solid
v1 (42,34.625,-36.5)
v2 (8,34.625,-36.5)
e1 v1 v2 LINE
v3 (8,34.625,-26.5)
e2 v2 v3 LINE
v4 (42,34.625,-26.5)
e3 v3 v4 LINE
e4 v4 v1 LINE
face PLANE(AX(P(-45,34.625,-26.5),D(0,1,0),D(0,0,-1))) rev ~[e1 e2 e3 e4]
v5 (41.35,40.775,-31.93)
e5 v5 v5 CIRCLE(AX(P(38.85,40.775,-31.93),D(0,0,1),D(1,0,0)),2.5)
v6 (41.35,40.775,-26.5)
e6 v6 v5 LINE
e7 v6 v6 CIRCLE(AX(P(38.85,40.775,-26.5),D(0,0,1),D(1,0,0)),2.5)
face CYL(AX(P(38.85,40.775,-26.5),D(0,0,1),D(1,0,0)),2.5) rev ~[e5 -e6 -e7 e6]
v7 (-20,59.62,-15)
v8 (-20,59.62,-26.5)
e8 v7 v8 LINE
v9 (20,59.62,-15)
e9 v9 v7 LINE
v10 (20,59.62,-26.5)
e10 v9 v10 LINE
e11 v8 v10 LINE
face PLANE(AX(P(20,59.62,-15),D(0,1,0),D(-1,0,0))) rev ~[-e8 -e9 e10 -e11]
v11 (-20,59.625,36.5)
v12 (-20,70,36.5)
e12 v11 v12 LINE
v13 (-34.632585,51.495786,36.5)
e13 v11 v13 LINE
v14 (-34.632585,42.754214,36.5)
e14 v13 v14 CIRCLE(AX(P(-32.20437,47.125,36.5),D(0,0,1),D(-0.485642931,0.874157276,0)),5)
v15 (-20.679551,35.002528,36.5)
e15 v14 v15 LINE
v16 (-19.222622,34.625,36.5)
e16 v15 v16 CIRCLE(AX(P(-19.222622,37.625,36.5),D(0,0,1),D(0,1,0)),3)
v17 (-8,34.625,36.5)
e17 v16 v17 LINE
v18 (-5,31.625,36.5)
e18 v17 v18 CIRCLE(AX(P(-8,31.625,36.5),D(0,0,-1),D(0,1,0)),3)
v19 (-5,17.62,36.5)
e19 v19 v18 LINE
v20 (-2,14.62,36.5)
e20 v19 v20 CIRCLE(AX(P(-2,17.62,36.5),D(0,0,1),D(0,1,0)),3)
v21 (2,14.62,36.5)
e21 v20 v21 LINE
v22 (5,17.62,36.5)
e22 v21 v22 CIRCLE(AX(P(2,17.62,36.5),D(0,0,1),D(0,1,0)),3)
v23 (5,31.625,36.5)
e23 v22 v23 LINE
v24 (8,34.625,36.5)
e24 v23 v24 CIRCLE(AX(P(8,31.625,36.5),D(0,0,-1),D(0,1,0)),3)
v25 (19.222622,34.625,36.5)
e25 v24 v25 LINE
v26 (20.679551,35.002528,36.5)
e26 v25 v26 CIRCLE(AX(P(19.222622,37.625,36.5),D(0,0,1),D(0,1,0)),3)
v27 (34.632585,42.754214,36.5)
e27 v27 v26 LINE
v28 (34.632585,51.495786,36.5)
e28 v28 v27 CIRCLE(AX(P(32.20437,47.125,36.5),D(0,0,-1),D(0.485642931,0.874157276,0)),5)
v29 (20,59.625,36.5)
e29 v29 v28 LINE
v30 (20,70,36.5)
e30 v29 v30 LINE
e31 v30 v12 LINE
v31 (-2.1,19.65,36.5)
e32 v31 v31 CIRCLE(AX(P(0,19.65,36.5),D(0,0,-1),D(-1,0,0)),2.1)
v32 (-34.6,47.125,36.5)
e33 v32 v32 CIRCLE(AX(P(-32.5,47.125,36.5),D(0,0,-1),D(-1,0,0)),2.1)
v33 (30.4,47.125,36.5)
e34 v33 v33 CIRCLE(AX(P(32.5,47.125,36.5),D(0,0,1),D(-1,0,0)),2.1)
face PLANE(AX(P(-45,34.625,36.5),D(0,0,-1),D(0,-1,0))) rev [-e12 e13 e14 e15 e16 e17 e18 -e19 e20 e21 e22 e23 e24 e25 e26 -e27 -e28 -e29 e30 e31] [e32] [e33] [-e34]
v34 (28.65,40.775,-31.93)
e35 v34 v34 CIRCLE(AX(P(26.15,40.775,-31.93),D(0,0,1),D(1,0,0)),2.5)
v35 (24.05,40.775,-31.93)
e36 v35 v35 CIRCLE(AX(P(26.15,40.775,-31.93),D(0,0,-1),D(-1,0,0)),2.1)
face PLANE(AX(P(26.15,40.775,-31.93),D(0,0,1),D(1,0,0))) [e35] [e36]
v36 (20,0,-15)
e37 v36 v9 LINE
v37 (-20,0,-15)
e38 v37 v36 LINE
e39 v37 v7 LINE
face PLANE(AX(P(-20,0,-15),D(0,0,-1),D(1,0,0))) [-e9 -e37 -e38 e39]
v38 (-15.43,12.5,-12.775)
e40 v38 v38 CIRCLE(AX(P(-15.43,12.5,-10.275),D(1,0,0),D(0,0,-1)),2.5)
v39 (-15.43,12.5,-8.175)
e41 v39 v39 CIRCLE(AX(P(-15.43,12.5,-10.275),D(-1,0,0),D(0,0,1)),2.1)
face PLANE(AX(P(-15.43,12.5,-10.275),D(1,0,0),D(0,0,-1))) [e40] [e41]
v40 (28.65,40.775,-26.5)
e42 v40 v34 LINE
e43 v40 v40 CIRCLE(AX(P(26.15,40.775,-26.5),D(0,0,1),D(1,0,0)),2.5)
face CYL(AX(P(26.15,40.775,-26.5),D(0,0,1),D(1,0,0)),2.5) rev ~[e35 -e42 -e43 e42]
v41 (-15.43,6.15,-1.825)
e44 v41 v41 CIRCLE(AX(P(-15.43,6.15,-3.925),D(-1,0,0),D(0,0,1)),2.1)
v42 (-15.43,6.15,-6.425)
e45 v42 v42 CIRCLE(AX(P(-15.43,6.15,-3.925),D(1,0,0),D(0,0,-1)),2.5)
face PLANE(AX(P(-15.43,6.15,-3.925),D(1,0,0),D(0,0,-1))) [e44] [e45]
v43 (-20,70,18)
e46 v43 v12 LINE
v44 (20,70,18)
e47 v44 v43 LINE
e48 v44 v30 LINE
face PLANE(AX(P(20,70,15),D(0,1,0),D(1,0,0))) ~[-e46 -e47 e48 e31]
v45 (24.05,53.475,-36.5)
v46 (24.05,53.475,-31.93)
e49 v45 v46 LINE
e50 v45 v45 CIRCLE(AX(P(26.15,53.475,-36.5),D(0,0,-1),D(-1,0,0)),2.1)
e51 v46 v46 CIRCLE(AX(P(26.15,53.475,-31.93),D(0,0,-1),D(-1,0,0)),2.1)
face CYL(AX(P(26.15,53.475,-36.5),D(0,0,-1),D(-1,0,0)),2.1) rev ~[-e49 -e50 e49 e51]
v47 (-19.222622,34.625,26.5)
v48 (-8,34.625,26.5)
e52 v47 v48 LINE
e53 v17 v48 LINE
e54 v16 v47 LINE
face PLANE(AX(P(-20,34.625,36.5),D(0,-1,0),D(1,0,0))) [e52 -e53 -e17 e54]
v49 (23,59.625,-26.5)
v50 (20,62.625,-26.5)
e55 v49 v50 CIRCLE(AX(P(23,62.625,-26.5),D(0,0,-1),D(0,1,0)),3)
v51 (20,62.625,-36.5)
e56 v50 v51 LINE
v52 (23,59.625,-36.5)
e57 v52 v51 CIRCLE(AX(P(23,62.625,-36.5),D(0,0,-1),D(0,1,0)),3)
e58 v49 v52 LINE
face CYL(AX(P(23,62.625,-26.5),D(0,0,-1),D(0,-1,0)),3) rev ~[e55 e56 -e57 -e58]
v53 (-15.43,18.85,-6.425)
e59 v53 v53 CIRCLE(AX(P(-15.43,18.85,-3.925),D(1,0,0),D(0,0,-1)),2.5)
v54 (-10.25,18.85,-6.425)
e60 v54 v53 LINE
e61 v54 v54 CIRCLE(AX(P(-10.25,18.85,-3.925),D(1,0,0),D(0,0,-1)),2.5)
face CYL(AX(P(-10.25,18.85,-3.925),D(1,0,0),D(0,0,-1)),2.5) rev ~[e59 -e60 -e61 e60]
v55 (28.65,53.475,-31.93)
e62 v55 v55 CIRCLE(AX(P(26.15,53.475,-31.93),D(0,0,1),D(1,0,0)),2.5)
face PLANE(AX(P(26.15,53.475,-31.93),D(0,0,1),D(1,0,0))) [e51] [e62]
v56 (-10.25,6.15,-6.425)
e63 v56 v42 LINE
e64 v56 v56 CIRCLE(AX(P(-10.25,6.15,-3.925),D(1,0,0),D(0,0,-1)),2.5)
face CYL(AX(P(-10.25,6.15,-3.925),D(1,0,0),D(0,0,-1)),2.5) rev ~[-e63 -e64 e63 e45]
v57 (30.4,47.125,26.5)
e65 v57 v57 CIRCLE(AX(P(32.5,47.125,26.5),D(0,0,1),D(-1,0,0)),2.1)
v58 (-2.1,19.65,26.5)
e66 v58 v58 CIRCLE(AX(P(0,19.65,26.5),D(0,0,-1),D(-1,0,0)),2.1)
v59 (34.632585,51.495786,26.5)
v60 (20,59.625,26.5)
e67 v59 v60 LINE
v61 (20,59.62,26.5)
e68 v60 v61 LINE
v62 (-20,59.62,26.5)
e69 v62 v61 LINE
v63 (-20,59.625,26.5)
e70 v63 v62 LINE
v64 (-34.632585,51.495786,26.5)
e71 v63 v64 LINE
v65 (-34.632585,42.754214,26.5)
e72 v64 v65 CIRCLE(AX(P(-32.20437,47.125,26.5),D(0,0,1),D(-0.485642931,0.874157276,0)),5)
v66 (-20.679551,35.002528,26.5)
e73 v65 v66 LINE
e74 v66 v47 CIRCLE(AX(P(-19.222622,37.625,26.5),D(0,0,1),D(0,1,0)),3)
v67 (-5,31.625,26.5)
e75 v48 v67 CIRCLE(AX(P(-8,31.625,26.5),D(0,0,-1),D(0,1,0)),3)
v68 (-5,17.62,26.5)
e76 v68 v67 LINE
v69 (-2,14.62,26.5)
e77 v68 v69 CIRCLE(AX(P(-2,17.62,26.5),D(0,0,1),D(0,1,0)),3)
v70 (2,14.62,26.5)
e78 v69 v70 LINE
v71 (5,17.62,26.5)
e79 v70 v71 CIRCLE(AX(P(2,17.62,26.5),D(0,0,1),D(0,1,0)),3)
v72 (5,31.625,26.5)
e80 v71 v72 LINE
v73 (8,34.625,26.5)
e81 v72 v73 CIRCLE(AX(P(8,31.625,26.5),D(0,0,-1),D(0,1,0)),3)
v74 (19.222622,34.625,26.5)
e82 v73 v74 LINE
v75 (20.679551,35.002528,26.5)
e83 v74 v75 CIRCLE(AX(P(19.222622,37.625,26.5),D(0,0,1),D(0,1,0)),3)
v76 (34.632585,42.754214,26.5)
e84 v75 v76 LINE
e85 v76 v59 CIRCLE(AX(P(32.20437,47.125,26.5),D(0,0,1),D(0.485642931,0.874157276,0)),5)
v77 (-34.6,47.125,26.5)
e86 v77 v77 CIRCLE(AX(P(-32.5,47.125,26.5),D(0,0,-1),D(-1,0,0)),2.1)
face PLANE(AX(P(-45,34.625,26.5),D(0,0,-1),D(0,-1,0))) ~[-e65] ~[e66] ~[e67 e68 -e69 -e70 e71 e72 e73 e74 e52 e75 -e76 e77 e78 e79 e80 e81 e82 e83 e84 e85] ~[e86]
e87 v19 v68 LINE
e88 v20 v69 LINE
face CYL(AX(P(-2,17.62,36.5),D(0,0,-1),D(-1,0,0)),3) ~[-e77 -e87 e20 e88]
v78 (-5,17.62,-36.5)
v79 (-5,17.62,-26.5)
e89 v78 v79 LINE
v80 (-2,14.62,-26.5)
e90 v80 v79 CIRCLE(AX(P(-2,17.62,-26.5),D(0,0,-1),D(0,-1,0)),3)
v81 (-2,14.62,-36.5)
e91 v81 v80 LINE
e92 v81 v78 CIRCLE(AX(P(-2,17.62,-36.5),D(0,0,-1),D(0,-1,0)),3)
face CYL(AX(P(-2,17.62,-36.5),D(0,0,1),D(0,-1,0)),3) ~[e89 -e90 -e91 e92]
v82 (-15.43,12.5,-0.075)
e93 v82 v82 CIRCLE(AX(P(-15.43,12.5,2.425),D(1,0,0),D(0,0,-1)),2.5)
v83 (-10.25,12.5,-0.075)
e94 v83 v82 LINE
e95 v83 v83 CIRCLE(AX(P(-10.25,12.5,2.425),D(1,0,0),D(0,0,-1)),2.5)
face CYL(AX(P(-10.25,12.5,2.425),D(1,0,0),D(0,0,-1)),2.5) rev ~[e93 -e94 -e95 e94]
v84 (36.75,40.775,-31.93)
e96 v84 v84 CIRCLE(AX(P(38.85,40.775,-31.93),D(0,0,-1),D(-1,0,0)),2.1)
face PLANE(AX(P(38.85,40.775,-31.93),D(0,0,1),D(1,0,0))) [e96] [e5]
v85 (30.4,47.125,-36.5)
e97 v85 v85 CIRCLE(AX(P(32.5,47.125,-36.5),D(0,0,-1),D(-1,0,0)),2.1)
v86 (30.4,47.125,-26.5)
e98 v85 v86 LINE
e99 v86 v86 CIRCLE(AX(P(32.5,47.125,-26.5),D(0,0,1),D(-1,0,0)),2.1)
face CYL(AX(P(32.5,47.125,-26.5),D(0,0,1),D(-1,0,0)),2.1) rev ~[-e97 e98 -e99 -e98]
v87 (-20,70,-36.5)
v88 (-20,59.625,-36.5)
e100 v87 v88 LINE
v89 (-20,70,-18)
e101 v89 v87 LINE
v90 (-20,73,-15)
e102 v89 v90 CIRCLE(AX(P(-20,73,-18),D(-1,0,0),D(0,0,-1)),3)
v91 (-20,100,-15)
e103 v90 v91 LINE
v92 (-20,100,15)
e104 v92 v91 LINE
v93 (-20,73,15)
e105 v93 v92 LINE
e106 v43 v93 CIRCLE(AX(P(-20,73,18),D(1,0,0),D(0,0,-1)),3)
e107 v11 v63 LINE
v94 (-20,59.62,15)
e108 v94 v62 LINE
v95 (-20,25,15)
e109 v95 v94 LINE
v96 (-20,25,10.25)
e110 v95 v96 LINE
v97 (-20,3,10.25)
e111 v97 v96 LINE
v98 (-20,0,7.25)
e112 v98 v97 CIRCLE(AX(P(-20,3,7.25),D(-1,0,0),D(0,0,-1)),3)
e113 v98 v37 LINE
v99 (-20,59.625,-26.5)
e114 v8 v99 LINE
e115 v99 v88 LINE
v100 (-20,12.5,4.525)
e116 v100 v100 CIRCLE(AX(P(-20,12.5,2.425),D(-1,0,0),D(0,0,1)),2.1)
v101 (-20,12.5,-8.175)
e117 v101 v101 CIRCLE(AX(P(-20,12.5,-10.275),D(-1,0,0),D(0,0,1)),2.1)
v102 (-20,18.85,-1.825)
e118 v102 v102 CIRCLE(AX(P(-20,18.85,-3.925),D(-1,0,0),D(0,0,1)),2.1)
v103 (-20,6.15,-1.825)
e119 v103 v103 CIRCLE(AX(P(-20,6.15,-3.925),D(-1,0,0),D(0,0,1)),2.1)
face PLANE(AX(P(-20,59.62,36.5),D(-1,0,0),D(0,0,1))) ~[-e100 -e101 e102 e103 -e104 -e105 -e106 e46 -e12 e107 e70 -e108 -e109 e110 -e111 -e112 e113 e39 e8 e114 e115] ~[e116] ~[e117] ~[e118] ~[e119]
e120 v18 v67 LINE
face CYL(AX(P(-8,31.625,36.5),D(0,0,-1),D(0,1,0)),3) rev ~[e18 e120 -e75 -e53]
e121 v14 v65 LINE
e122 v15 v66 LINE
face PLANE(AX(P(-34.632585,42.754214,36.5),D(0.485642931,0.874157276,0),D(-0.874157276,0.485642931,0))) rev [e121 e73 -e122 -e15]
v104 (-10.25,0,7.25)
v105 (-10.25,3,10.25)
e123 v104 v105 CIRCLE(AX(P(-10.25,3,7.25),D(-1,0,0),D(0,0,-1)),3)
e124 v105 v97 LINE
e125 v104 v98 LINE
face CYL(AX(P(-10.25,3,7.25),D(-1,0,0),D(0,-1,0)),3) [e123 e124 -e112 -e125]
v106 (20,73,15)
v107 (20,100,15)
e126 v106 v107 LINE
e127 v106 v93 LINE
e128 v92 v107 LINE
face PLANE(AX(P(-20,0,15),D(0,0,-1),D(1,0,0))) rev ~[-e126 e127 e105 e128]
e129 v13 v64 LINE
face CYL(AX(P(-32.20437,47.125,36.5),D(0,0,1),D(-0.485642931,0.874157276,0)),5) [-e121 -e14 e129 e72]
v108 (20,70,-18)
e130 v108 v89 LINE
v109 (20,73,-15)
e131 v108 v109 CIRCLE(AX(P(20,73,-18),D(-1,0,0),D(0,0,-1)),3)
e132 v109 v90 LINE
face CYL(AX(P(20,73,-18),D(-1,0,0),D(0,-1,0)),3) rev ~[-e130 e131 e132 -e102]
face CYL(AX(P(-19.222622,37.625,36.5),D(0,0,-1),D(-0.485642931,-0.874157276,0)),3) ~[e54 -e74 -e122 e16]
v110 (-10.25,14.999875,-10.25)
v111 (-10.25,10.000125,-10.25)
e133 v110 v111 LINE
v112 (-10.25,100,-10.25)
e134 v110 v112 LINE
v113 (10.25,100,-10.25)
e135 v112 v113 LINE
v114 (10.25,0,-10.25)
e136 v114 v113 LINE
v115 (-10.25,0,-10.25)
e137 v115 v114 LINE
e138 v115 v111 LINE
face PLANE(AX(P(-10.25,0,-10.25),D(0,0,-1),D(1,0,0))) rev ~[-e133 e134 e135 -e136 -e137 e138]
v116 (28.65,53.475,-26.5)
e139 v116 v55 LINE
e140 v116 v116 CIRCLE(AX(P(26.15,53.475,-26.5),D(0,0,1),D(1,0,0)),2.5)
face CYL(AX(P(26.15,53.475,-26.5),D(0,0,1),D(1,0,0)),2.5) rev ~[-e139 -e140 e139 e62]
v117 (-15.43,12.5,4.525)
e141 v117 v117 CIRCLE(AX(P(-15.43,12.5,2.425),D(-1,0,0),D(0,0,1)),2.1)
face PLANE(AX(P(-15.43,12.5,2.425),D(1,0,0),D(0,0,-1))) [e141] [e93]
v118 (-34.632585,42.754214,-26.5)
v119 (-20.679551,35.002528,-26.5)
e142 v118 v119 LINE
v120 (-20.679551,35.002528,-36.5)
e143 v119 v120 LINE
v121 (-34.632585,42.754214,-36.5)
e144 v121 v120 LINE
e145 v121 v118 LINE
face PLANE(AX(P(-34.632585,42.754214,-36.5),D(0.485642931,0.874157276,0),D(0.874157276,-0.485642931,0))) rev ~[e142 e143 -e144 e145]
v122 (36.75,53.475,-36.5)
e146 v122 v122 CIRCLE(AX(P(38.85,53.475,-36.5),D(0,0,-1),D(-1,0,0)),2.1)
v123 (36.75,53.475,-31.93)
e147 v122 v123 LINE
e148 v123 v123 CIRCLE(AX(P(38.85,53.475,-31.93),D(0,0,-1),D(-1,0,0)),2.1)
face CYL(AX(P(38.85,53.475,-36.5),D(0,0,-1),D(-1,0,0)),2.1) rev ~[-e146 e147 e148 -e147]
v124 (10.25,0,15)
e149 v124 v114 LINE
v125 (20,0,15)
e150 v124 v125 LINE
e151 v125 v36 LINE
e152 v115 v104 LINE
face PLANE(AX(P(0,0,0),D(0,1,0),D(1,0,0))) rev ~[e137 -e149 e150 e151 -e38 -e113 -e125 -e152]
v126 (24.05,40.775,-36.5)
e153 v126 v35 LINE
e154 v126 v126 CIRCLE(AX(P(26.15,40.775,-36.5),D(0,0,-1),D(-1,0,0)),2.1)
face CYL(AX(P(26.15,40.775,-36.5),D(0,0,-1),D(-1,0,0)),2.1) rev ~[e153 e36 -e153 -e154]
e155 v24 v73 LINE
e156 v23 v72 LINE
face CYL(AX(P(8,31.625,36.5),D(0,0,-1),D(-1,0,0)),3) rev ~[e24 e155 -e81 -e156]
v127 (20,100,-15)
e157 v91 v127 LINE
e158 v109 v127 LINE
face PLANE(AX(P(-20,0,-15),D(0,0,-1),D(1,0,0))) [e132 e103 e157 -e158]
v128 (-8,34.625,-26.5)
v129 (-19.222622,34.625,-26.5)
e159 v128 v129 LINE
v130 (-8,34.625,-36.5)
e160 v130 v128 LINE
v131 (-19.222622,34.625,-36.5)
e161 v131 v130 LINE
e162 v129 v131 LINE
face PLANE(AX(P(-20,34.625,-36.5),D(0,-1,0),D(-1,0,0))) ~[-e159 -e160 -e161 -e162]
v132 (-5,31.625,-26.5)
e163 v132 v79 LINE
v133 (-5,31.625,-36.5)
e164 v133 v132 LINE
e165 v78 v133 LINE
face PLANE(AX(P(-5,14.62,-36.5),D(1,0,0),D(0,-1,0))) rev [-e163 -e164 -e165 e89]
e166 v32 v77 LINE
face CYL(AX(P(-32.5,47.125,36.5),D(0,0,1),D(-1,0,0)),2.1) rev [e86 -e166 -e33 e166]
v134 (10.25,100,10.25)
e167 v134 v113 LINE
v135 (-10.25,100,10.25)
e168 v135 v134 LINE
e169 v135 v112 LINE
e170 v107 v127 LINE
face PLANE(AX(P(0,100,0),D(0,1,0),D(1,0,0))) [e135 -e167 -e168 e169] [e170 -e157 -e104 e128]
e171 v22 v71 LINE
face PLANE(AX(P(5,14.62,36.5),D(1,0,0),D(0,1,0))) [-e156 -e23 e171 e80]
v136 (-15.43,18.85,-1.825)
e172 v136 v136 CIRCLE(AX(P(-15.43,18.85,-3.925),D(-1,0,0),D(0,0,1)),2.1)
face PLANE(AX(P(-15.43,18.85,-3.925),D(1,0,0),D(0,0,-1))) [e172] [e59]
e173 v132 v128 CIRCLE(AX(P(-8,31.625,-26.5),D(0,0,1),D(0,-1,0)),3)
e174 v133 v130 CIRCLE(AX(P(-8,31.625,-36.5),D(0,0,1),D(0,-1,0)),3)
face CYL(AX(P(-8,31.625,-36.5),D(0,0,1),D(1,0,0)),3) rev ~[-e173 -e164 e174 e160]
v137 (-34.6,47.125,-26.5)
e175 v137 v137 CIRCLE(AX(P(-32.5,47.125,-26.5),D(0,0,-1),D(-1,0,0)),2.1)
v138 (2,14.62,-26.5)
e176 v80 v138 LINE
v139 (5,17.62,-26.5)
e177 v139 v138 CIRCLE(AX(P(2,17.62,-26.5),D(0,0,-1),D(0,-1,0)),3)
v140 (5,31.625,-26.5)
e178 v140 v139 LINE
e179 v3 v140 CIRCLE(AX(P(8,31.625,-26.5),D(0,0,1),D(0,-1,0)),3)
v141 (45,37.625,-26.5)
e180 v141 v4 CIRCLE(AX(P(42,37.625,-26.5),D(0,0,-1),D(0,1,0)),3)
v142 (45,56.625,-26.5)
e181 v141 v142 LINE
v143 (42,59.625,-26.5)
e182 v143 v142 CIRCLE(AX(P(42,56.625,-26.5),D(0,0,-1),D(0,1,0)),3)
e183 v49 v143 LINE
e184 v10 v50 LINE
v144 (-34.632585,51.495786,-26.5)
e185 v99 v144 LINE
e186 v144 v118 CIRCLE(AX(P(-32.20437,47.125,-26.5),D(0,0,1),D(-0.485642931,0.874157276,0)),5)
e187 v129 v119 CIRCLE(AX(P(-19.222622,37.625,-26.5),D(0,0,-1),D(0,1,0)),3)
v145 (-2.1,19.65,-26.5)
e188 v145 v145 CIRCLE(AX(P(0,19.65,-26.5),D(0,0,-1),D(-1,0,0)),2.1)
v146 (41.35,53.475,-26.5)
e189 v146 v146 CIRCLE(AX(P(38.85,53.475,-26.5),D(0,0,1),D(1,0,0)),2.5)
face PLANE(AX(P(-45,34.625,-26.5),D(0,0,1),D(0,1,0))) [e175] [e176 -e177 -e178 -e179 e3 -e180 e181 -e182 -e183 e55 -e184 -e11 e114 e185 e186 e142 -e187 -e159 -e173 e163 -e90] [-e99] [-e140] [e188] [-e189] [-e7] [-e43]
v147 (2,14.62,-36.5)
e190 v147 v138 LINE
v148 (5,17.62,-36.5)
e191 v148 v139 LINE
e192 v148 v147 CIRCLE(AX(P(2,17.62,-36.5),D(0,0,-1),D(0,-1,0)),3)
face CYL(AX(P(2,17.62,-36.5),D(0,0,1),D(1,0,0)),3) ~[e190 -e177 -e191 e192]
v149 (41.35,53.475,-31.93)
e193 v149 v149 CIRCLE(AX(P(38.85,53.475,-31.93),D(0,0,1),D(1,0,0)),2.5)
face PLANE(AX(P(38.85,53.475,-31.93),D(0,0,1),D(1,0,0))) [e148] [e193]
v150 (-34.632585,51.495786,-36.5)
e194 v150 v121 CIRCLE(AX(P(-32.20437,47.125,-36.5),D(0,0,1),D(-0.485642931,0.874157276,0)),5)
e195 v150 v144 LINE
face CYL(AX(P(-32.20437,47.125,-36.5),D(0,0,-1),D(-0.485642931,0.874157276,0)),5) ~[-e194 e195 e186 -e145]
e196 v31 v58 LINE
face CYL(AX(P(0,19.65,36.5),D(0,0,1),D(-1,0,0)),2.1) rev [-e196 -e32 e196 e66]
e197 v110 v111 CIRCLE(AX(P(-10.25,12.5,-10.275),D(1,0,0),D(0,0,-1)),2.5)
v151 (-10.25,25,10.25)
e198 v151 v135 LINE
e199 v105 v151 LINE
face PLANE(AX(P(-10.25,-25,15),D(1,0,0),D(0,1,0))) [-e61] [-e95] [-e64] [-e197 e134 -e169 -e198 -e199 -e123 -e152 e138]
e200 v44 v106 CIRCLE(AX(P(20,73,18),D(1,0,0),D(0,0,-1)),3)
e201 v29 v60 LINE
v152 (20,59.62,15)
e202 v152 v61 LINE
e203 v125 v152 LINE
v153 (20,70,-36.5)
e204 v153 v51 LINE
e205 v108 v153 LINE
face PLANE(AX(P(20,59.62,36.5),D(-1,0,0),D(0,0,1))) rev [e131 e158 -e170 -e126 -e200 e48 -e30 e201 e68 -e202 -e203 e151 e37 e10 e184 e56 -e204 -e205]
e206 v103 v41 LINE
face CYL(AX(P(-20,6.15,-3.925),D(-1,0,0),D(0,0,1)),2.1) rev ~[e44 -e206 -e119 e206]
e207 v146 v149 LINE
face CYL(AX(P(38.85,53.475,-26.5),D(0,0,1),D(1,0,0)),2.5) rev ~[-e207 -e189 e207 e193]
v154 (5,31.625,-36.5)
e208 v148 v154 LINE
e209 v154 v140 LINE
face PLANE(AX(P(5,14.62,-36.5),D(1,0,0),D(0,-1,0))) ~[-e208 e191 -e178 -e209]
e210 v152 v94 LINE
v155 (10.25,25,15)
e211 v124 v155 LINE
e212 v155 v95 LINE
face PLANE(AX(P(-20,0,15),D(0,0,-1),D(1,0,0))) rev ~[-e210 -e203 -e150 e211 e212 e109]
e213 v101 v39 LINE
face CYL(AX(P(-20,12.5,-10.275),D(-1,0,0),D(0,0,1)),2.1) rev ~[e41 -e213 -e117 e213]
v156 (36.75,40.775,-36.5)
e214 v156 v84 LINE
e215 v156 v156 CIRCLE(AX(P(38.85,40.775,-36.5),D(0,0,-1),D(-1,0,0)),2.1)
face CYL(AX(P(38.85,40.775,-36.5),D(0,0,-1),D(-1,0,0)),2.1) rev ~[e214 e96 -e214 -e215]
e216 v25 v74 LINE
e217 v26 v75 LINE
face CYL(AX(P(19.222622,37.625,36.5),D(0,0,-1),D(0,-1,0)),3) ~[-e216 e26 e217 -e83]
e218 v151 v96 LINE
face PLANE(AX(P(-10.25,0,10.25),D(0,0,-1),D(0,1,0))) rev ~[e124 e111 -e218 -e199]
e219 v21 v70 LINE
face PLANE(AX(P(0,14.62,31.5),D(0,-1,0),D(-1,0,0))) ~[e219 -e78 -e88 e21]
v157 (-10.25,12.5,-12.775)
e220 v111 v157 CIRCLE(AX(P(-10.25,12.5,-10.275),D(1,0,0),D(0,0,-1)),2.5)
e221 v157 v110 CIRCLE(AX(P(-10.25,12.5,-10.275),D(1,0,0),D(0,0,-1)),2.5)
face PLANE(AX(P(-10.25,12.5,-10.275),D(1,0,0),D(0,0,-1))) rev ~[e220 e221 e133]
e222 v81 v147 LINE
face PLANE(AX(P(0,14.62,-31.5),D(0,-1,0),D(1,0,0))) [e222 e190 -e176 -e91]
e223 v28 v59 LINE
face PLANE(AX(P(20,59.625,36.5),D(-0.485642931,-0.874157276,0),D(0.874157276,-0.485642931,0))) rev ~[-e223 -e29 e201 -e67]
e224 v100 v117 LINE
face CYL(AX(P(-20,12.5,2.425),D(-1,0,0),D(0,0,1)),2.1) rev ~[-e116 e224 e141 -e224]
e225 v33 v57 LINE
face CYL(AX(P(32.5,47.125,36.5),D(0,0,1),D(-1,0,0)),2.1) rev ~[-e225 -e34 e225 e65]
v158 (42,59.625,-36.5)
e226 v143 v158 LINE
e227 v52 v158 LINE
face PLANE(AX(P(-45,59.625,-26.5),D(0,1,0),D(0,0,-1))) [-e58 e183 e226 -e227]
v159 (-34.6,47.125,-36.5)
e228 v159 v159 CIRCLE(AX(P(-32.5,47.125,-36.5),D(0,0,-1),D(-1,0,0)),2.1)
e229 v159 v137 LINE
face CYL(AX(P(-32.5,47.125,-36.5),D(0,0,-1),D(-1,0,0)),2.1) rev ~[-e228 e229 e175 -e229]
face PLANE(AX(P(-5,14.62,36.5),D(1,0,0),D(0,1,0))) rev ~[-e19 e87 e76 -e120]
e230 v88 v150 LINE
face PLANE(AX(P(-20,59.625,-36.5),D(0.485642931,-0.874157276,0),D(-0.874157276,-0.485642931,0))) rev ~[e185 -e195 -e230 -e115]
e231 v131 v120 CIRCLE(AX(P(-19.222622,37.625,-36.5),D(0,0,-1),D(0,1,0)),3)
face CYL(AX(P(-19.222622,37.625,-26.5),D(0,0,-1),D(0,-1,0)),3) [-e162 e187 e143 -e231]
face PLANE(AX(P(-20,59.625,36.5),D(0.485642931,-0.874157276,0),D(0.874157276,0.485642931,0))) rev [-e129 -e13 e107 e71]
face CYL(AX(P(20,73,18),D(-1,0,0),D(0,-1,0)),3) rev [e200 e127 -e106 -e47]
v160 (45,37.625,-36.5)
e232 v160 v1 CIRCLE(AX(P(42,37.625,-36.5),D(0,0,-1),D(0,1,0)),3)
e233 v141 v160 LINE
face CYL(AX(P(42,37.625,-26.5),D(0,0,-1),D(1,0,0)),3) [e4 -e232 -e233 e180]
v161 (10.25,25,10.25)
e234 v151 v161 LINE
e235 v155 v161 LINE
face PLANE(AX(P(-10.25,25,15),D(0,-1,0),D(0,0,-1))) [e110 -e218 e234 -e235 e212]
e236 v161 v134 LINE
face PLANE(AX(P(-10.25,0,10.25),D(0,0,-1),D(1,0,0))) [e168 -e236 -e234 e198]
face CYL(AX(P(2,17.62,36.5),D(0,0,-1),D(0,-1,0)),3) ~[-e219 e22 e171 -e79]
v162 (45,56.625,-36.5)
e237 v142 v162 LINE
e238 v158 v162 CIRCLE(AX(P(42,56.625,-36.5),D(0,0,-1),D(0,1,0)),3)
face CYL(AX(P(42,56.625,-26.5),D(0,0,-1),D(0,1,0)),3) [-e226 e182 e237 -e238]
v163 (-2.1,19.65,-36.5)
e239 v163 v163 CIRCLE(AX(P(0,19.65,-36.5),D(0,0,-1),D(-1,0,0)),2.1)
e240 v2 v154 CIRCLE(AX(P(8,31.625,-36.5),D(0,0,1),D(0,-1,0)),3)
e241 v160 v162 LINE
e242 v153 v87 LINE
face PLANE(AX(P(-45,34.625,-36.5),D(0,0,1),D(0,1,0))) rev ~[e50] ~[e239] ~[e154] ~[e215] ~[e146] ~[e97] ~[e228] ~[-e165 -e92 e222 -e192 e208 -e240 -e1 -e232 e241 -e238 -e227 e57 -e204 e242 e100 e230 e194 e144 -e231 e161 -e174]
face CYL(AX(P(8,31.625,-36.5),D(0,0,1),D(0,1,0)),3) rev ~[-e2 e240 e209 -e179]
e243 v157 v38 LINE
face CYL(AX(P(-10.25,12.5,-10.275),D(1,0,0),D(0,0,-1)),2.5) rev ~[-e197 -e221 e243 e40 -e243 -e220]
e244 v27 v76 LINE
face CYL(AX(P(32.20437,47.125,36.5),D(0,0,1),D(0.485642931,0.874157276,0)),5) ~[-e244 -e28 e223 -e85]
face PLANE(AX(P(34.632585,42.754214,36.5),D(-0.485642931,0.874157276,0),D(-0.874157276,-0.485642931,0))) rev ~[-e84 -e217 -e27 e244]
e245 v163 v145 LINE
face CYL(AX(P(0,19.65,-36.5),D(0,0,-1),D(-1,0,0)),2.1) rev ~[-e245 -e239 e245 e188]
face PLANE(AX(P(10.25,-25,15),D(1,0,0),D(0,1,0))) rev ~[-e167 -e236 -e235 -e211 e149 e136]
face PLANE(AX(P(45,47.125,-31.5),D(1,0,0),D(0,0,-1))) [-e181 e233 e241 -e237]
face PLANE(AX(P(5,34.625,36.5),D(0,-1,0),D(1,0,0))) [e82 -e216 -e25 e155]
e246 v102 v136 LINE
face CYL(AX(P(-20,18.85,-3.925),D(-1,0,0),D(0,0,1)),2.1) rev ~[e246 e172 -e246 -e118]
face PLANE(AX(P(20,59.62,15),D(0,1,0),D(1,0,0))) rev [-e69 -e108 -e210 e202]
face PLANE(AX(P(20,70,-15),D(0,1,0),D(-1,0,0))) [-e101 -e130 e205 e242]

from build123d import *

# Parameters (mm, degrees)
SKETCH2_W           = 40
SKETCH2_H           = 30
BOSS_EXTRUDE1_DEPTH = 100
SKETCH3_W           = 20.5
SKETCH3_H           = 20.5
CUT_EXTRUDE1_DEPTH  = 100
SKETCH4_W           = 20.5
SKETCH4_H           = 50
CUT_EXTRUDE2_DEPTH  = 4.75
SKETCH5_W           = 4.75
SKETCH5_H           = 25
CUT_EXTRUDE4_DEPTH  = 9.75
SKETCH6_R           = 2.1
CUT_EXTRUDE5_DEPTH  = 9.75
SKETCH7_R           = 2.5
CUT_EXTRUDE6_DEPTH  = 5.18
SKETCH8_W           = 40
SKETCH8_H           = 10.38
BOSS_EXTRUDE2_DEPTH = 21.5
SKETCH9_W           = 40
SKETCH9_H           = 10
BOSS_EXTRUDE3_DEPTH = 45
BOSS_EXTRUDE4_START = -65
SKETCH11_W          = 10
SKETCH11_H          = 25
BOSS_EXTRUDE4_DEPTH = 90
SKETCH13_R          = 2.1
CUT_EXTRUDE7_DEPTH  = 4.57
SKETCH14_R          = 2.1
SKETCH14_R_2        = 2.5
CUT_EXTRUDE8_DEPTH  = 5.43
SKETCH15_R          = 2.1
CUT_EXTRUDE9_DEPTH  = 10
CUT_EXTRUDE10_REACH = 133.735
SKETCH18_R          = 2.1
SKETCH19_W          = 15
SKETCH19_H          = 20.005
CUT_EXTRUDE11_DEPTH = 12.57
FILLET1_R           = 3


with BuildPart() as part:
    # Sketch2 → Boss-Extrude1 (new body)
    with BuildSketch(Plane(origin=(0, 0, 0), x_dir=(1, 0, 0), z_dir=(0, 1, 0))):
        Rectangle(SKETCH2_W, SKETCH2_H)
    extrude(amount=BOSS_EXTRUDE1_DEPTH)

    # Sketch3 → Cut-Extrude1 (cut)
    with BuildSketch(Plane(origin=(0, 0, 0), x_dir=(1, 0, 0), z_dir=(0, 1, 0))):
        Rectangle(SKETCH3_W, SKETCH3_H)
    extrude(amount=CUT_EXTRUDE1_DEPTH, mode=Mode.SUBTRACT)

    # Sketch4 → Cut-Extrude2 (cut)
    with BuildSketch(Plane.XY.offset(15)):
        Rectangle(SKETCH4_W, SKETCH4_H)
    extrude(amount=-CUT_EXTRUDE2_DEPTH, mode=Mode.SUBTRACT)

    # Sketch5 → Cut-Extrude4 (cut)
    with BuildSketch(Plane(origin=(-10.25, 0, 0), x_dir=(0, 0, -1), z_dir=(1, 0, 0))):
        with Locations((-12.625, 12.5)):
            Rectangle(SKETCH5_W, SKETCH5_H)
    extrude(amount=-CUT_EXTRUDE4_DEPTH, mode=Mode.SUBTRACT)

    # Sketch6 → Cut-Extrude5 (cut)
    with BuildSketch(Plane.ZY.offset(20)):
        with Locations((2.425, 12.5)):
            Circle(SKETCH6_R)
        with Locations((-10.275, 12.5)):
            Circle(SKETCH6_R)
        with Locations((-3.925, 18.85)):
            Circle(SKETCH6_R)
        with Locations((-3.925, 6.15)):
            Circle(SKETCH6_R)
    extrude(amount=-CUT_EXTRUDE5_DEPTH, mode=Mode.SUBTRACT)

    # Sketch7 → Cut-Extrude6 (cut)
    with BuildSketch(Plane(origin=(-10.25, 0, 0), x_dir=(0, 0, -1), z_dir=(1, 0, 0))):
        with Locations((-2.425, 12.5)):
            Circle(SKETCH7_R)
        with Locations((10.275, 12.5)):
            Circle(SKETCH7_R)
        with Locations((3.925, 18.85)):
            Circle(SKETCH7_R)
        with Locations((3.925, 6.15)):
            Circle(SKETCH7_R)
    extrude(amount=-CUT_EXTRUDE6_DEPTH, mode=Mode.SUBTRACT)

    # Sketch8 → Boss-Extrude2 (add)
    with BuildSketch(Plane(origin=(0, 0, -15), x_dir=(-1, 0, 0), z_dir=(0, 0, -1))):
        with Locations((0, 64.81)):
            Rectangle(SKETCH8_W, SKETCH8_H)
    boss_extrude2 = extrude(amount=BOSS_EXTRUDE2_DEPTH)

    # Sketch9 → Boss-Extrude3 (add)
    with BuildSketch(Plane.XZ.offset(-59.62)):
        with Locations((0, -31.5)):
            Rectangle(SKETCH9_W, SKETCH9_H)
    boss_extrude3 = extrude(amount=BOSS_EXTRUDE3_DEPTH)

    # Sketch11 → Boss-Extrude4 (add)
    with BuildSketch(Plane(origin=(20, 0, 0), x_dir=(0, 0, -1), z_dir=(1, 0, 0)).offset(BOSS_EXTRUDE4_START)):
        with Locations((31.5, 47.125)):
            Rectangle(SKETCH11_W, SKETCH11_H)
    boss_extrude4 = extrude(amount=BOSS_EXTRUDE4_DEPTH)

    # Sketch13 → Cut-Extrude7 (cut)
    with BuildSketch(Plane(origin=(0, 0, -36.5), x_dir=(-1, 0, 0), z_dir=(0, 0, -1))):
        with Locations((-32.5, 47.125)):
            Circle(SKETCH13_R)
        with Locations((-26.15, 53.475)):
            Circle(SKETCH13_R)
        with Locations((-38.85, 53.475)):
            Circle(SKETCH13_R)
        with Locations((-38.85, 40.775)):
            Circle(SKETCH13_R)
        with Locations((-26.15, 40.775)):
            Circle(SKETCH13_R)
    extrude(amount=-CUT_EXTRUDE7_DEPTH, mode=Mode.SUBTRACT)

    # Sketch14 → Cut-Extrude8 (cut)
    with BuildSketch(Plane.XY.offset(-26.5)):
        with Locations(Location((32.5, 47.125, 0), (0, 0, 180))):
            Circle(SKETCH14_R)
        with Locations((38.85, 53.475)):
            Circle(SKETCH14_R_2)
        with Locations((26.15, 53.475)):
            Circle(SKETCH14_R_2)
        with Locations((26.15, 40.775)):
            Circle(SKETCH14_R_2)
        with Locations((38.85, 40.775)):
            Circle(SKETCH14_R_2)
    extrude(amount=-CUT_EXTRUDE8_DEPTH, mode=Mode.SUBTRACT)

    # Sketch15 → Cut-Extrude9 (cut)
    with BuildSketch(Plane(origin=(0, 0, -36.5), x_dir=(-1, 0, 0), z_dir=(0, 0, -1))):
        with Locations((32.5, 47.125)):
            Circle(SKETCH15_R)
        with Locations((0, 19.65)):
            Circle(SKETCH15_R)
        with BuildLine():
            Line((20, 59.625), (34.632584515, 51.495786381))
            ThreePointArc((34.632584515, 51.495786381), (37.204369859, 47.125), (34.632584515, 42.754213619))
            Line((34.632584515, 42.754213619), (20, 34.625))
            Line((20, 34.625), (45, 34.625))
            Line((45, 34.625), (45, 59.625))
            Line((45, 59.625), (20, 59.625))
        make_face()
    cut_extrude9 = extrude(amount=-CUT_EXTRUDE9_DEPTH, mode=Mode.SUBTRACT)

    # Mirror2: Boss-Extrude2, Boss-Extrude3, Boss-Extrude4, Cut-Extrude9 across plane
    add(boss_extrude2.mirror(Plane.XY))
    add(boss_extrude3.mirror(Plane.XY))
    add(boss_extrude4.mirror(Plane.XY))
    add(cut_extrude9.mirror(Plane.XY), mode=Mode.SUBTRACT)

    # Sketch18 → Cut-Extrude10 (cut, up to next)
    with BuildSketch(Plane.XY.offset(36.5), mode=Mode.PRIVATE) as cut_extrude10_sk1:
        with BuildLine():
            Line((20, 59.625), (34.632584515, 51.495786381))
            ThreePointArc((34.632584515, 51.495786381), (37.204369859, 47.125), (34.632584515, 42.754213619))
            Line((34.632584515, 42.754213619), (20, 34.625))
            Line((20, 34.625), (45, 34.625))
            Line((45, 34.625), (45, 59.625))
            Line((45, 59.625), (20, 59.625))
        make_face()
    cut_extrude10_tool1 = extrude(cut_extrude10_sk1.sketch, amount=-CUT_EXTRUDE10_REACH, mode=Mode.PRIVATE) & part.part
    # Sketch18 → Cut-Extrude10 (cut, up to next)
    with BuildSketch(Plane.XY.offset(36.5), mode=Mode.PRIVATE) as cut_extrude10_sk2:
        with Locations(Location((32.5, 47.125, 0), (0, 0, 180))):
            Circle(SKETCH18_R)
    cut_extrude10_tool2 = extrude(cut_extrude10_sk2.sketch, amount=-CUT_EXTRUDE10_REACH, mode=Mode.PRIVATE) & part.part
    add(cut_extrude10_tool1.solids().sort_by_distance((27.487993, 55.869454, 36.5))[0], mode=Mode.SUBTRACT)
    add(cut_extrude10_tool2.solids().sort_by_distance((32.5, 47.125, 36.5))[0], mode=Mode.SUBTRACT)

    # Sketch19 → Cut-Extrude11 (cut)
    with BuildSketch(Plane.XY.offset(36.5)):
        with Locations((-12.5, 24.6225)):
            Rectangle(SKETCH19_W, SKETCH19_H)
        with Locations((12.5, 24.6225)):
            Rectangle(SKETCH19_W, SKETCH19_H)
    cut_extrude11 = extrude(amount=-CUT_EXTRUDE11_DEPTH, mode=Mode.SUBTRACT)

    # Mirror3: Cut-Extrude11 across plane
    add(cut_extrude11.mirror(Plane.XY), mode=Mode.SUBTRACT)

    # Fillet1
    fillet1_edges = [part.edges().sort_by_distance(p)[0] for p in [
        (0, 70, -15),
        (20, 59.625, -31.5),
        (-20, 34.625, -31.5),
        (45, 34.625, -31.5),
        (45, 59.625, -31.5),
        (0, 70, 15),
        (20, 34.625, 31.5),
        (-20, 34.625, 31.5),
        (5, 14.62, 31.5),
        (-5, 14.62, 31.5),
        (-5, 34.625, 31.5),
        (5, 34.625, 31.5),
        (5, 14.62, -31.5),
        (-5, 14.62, -31.5),
        (-5, 34.625, -31.5),
        (5, 34.625, -31.5),
        (-15.125, 0, 10.25),
    ]]
    fillet(fillet1_edges, radius=FILLET1_R)


solid = part.part
